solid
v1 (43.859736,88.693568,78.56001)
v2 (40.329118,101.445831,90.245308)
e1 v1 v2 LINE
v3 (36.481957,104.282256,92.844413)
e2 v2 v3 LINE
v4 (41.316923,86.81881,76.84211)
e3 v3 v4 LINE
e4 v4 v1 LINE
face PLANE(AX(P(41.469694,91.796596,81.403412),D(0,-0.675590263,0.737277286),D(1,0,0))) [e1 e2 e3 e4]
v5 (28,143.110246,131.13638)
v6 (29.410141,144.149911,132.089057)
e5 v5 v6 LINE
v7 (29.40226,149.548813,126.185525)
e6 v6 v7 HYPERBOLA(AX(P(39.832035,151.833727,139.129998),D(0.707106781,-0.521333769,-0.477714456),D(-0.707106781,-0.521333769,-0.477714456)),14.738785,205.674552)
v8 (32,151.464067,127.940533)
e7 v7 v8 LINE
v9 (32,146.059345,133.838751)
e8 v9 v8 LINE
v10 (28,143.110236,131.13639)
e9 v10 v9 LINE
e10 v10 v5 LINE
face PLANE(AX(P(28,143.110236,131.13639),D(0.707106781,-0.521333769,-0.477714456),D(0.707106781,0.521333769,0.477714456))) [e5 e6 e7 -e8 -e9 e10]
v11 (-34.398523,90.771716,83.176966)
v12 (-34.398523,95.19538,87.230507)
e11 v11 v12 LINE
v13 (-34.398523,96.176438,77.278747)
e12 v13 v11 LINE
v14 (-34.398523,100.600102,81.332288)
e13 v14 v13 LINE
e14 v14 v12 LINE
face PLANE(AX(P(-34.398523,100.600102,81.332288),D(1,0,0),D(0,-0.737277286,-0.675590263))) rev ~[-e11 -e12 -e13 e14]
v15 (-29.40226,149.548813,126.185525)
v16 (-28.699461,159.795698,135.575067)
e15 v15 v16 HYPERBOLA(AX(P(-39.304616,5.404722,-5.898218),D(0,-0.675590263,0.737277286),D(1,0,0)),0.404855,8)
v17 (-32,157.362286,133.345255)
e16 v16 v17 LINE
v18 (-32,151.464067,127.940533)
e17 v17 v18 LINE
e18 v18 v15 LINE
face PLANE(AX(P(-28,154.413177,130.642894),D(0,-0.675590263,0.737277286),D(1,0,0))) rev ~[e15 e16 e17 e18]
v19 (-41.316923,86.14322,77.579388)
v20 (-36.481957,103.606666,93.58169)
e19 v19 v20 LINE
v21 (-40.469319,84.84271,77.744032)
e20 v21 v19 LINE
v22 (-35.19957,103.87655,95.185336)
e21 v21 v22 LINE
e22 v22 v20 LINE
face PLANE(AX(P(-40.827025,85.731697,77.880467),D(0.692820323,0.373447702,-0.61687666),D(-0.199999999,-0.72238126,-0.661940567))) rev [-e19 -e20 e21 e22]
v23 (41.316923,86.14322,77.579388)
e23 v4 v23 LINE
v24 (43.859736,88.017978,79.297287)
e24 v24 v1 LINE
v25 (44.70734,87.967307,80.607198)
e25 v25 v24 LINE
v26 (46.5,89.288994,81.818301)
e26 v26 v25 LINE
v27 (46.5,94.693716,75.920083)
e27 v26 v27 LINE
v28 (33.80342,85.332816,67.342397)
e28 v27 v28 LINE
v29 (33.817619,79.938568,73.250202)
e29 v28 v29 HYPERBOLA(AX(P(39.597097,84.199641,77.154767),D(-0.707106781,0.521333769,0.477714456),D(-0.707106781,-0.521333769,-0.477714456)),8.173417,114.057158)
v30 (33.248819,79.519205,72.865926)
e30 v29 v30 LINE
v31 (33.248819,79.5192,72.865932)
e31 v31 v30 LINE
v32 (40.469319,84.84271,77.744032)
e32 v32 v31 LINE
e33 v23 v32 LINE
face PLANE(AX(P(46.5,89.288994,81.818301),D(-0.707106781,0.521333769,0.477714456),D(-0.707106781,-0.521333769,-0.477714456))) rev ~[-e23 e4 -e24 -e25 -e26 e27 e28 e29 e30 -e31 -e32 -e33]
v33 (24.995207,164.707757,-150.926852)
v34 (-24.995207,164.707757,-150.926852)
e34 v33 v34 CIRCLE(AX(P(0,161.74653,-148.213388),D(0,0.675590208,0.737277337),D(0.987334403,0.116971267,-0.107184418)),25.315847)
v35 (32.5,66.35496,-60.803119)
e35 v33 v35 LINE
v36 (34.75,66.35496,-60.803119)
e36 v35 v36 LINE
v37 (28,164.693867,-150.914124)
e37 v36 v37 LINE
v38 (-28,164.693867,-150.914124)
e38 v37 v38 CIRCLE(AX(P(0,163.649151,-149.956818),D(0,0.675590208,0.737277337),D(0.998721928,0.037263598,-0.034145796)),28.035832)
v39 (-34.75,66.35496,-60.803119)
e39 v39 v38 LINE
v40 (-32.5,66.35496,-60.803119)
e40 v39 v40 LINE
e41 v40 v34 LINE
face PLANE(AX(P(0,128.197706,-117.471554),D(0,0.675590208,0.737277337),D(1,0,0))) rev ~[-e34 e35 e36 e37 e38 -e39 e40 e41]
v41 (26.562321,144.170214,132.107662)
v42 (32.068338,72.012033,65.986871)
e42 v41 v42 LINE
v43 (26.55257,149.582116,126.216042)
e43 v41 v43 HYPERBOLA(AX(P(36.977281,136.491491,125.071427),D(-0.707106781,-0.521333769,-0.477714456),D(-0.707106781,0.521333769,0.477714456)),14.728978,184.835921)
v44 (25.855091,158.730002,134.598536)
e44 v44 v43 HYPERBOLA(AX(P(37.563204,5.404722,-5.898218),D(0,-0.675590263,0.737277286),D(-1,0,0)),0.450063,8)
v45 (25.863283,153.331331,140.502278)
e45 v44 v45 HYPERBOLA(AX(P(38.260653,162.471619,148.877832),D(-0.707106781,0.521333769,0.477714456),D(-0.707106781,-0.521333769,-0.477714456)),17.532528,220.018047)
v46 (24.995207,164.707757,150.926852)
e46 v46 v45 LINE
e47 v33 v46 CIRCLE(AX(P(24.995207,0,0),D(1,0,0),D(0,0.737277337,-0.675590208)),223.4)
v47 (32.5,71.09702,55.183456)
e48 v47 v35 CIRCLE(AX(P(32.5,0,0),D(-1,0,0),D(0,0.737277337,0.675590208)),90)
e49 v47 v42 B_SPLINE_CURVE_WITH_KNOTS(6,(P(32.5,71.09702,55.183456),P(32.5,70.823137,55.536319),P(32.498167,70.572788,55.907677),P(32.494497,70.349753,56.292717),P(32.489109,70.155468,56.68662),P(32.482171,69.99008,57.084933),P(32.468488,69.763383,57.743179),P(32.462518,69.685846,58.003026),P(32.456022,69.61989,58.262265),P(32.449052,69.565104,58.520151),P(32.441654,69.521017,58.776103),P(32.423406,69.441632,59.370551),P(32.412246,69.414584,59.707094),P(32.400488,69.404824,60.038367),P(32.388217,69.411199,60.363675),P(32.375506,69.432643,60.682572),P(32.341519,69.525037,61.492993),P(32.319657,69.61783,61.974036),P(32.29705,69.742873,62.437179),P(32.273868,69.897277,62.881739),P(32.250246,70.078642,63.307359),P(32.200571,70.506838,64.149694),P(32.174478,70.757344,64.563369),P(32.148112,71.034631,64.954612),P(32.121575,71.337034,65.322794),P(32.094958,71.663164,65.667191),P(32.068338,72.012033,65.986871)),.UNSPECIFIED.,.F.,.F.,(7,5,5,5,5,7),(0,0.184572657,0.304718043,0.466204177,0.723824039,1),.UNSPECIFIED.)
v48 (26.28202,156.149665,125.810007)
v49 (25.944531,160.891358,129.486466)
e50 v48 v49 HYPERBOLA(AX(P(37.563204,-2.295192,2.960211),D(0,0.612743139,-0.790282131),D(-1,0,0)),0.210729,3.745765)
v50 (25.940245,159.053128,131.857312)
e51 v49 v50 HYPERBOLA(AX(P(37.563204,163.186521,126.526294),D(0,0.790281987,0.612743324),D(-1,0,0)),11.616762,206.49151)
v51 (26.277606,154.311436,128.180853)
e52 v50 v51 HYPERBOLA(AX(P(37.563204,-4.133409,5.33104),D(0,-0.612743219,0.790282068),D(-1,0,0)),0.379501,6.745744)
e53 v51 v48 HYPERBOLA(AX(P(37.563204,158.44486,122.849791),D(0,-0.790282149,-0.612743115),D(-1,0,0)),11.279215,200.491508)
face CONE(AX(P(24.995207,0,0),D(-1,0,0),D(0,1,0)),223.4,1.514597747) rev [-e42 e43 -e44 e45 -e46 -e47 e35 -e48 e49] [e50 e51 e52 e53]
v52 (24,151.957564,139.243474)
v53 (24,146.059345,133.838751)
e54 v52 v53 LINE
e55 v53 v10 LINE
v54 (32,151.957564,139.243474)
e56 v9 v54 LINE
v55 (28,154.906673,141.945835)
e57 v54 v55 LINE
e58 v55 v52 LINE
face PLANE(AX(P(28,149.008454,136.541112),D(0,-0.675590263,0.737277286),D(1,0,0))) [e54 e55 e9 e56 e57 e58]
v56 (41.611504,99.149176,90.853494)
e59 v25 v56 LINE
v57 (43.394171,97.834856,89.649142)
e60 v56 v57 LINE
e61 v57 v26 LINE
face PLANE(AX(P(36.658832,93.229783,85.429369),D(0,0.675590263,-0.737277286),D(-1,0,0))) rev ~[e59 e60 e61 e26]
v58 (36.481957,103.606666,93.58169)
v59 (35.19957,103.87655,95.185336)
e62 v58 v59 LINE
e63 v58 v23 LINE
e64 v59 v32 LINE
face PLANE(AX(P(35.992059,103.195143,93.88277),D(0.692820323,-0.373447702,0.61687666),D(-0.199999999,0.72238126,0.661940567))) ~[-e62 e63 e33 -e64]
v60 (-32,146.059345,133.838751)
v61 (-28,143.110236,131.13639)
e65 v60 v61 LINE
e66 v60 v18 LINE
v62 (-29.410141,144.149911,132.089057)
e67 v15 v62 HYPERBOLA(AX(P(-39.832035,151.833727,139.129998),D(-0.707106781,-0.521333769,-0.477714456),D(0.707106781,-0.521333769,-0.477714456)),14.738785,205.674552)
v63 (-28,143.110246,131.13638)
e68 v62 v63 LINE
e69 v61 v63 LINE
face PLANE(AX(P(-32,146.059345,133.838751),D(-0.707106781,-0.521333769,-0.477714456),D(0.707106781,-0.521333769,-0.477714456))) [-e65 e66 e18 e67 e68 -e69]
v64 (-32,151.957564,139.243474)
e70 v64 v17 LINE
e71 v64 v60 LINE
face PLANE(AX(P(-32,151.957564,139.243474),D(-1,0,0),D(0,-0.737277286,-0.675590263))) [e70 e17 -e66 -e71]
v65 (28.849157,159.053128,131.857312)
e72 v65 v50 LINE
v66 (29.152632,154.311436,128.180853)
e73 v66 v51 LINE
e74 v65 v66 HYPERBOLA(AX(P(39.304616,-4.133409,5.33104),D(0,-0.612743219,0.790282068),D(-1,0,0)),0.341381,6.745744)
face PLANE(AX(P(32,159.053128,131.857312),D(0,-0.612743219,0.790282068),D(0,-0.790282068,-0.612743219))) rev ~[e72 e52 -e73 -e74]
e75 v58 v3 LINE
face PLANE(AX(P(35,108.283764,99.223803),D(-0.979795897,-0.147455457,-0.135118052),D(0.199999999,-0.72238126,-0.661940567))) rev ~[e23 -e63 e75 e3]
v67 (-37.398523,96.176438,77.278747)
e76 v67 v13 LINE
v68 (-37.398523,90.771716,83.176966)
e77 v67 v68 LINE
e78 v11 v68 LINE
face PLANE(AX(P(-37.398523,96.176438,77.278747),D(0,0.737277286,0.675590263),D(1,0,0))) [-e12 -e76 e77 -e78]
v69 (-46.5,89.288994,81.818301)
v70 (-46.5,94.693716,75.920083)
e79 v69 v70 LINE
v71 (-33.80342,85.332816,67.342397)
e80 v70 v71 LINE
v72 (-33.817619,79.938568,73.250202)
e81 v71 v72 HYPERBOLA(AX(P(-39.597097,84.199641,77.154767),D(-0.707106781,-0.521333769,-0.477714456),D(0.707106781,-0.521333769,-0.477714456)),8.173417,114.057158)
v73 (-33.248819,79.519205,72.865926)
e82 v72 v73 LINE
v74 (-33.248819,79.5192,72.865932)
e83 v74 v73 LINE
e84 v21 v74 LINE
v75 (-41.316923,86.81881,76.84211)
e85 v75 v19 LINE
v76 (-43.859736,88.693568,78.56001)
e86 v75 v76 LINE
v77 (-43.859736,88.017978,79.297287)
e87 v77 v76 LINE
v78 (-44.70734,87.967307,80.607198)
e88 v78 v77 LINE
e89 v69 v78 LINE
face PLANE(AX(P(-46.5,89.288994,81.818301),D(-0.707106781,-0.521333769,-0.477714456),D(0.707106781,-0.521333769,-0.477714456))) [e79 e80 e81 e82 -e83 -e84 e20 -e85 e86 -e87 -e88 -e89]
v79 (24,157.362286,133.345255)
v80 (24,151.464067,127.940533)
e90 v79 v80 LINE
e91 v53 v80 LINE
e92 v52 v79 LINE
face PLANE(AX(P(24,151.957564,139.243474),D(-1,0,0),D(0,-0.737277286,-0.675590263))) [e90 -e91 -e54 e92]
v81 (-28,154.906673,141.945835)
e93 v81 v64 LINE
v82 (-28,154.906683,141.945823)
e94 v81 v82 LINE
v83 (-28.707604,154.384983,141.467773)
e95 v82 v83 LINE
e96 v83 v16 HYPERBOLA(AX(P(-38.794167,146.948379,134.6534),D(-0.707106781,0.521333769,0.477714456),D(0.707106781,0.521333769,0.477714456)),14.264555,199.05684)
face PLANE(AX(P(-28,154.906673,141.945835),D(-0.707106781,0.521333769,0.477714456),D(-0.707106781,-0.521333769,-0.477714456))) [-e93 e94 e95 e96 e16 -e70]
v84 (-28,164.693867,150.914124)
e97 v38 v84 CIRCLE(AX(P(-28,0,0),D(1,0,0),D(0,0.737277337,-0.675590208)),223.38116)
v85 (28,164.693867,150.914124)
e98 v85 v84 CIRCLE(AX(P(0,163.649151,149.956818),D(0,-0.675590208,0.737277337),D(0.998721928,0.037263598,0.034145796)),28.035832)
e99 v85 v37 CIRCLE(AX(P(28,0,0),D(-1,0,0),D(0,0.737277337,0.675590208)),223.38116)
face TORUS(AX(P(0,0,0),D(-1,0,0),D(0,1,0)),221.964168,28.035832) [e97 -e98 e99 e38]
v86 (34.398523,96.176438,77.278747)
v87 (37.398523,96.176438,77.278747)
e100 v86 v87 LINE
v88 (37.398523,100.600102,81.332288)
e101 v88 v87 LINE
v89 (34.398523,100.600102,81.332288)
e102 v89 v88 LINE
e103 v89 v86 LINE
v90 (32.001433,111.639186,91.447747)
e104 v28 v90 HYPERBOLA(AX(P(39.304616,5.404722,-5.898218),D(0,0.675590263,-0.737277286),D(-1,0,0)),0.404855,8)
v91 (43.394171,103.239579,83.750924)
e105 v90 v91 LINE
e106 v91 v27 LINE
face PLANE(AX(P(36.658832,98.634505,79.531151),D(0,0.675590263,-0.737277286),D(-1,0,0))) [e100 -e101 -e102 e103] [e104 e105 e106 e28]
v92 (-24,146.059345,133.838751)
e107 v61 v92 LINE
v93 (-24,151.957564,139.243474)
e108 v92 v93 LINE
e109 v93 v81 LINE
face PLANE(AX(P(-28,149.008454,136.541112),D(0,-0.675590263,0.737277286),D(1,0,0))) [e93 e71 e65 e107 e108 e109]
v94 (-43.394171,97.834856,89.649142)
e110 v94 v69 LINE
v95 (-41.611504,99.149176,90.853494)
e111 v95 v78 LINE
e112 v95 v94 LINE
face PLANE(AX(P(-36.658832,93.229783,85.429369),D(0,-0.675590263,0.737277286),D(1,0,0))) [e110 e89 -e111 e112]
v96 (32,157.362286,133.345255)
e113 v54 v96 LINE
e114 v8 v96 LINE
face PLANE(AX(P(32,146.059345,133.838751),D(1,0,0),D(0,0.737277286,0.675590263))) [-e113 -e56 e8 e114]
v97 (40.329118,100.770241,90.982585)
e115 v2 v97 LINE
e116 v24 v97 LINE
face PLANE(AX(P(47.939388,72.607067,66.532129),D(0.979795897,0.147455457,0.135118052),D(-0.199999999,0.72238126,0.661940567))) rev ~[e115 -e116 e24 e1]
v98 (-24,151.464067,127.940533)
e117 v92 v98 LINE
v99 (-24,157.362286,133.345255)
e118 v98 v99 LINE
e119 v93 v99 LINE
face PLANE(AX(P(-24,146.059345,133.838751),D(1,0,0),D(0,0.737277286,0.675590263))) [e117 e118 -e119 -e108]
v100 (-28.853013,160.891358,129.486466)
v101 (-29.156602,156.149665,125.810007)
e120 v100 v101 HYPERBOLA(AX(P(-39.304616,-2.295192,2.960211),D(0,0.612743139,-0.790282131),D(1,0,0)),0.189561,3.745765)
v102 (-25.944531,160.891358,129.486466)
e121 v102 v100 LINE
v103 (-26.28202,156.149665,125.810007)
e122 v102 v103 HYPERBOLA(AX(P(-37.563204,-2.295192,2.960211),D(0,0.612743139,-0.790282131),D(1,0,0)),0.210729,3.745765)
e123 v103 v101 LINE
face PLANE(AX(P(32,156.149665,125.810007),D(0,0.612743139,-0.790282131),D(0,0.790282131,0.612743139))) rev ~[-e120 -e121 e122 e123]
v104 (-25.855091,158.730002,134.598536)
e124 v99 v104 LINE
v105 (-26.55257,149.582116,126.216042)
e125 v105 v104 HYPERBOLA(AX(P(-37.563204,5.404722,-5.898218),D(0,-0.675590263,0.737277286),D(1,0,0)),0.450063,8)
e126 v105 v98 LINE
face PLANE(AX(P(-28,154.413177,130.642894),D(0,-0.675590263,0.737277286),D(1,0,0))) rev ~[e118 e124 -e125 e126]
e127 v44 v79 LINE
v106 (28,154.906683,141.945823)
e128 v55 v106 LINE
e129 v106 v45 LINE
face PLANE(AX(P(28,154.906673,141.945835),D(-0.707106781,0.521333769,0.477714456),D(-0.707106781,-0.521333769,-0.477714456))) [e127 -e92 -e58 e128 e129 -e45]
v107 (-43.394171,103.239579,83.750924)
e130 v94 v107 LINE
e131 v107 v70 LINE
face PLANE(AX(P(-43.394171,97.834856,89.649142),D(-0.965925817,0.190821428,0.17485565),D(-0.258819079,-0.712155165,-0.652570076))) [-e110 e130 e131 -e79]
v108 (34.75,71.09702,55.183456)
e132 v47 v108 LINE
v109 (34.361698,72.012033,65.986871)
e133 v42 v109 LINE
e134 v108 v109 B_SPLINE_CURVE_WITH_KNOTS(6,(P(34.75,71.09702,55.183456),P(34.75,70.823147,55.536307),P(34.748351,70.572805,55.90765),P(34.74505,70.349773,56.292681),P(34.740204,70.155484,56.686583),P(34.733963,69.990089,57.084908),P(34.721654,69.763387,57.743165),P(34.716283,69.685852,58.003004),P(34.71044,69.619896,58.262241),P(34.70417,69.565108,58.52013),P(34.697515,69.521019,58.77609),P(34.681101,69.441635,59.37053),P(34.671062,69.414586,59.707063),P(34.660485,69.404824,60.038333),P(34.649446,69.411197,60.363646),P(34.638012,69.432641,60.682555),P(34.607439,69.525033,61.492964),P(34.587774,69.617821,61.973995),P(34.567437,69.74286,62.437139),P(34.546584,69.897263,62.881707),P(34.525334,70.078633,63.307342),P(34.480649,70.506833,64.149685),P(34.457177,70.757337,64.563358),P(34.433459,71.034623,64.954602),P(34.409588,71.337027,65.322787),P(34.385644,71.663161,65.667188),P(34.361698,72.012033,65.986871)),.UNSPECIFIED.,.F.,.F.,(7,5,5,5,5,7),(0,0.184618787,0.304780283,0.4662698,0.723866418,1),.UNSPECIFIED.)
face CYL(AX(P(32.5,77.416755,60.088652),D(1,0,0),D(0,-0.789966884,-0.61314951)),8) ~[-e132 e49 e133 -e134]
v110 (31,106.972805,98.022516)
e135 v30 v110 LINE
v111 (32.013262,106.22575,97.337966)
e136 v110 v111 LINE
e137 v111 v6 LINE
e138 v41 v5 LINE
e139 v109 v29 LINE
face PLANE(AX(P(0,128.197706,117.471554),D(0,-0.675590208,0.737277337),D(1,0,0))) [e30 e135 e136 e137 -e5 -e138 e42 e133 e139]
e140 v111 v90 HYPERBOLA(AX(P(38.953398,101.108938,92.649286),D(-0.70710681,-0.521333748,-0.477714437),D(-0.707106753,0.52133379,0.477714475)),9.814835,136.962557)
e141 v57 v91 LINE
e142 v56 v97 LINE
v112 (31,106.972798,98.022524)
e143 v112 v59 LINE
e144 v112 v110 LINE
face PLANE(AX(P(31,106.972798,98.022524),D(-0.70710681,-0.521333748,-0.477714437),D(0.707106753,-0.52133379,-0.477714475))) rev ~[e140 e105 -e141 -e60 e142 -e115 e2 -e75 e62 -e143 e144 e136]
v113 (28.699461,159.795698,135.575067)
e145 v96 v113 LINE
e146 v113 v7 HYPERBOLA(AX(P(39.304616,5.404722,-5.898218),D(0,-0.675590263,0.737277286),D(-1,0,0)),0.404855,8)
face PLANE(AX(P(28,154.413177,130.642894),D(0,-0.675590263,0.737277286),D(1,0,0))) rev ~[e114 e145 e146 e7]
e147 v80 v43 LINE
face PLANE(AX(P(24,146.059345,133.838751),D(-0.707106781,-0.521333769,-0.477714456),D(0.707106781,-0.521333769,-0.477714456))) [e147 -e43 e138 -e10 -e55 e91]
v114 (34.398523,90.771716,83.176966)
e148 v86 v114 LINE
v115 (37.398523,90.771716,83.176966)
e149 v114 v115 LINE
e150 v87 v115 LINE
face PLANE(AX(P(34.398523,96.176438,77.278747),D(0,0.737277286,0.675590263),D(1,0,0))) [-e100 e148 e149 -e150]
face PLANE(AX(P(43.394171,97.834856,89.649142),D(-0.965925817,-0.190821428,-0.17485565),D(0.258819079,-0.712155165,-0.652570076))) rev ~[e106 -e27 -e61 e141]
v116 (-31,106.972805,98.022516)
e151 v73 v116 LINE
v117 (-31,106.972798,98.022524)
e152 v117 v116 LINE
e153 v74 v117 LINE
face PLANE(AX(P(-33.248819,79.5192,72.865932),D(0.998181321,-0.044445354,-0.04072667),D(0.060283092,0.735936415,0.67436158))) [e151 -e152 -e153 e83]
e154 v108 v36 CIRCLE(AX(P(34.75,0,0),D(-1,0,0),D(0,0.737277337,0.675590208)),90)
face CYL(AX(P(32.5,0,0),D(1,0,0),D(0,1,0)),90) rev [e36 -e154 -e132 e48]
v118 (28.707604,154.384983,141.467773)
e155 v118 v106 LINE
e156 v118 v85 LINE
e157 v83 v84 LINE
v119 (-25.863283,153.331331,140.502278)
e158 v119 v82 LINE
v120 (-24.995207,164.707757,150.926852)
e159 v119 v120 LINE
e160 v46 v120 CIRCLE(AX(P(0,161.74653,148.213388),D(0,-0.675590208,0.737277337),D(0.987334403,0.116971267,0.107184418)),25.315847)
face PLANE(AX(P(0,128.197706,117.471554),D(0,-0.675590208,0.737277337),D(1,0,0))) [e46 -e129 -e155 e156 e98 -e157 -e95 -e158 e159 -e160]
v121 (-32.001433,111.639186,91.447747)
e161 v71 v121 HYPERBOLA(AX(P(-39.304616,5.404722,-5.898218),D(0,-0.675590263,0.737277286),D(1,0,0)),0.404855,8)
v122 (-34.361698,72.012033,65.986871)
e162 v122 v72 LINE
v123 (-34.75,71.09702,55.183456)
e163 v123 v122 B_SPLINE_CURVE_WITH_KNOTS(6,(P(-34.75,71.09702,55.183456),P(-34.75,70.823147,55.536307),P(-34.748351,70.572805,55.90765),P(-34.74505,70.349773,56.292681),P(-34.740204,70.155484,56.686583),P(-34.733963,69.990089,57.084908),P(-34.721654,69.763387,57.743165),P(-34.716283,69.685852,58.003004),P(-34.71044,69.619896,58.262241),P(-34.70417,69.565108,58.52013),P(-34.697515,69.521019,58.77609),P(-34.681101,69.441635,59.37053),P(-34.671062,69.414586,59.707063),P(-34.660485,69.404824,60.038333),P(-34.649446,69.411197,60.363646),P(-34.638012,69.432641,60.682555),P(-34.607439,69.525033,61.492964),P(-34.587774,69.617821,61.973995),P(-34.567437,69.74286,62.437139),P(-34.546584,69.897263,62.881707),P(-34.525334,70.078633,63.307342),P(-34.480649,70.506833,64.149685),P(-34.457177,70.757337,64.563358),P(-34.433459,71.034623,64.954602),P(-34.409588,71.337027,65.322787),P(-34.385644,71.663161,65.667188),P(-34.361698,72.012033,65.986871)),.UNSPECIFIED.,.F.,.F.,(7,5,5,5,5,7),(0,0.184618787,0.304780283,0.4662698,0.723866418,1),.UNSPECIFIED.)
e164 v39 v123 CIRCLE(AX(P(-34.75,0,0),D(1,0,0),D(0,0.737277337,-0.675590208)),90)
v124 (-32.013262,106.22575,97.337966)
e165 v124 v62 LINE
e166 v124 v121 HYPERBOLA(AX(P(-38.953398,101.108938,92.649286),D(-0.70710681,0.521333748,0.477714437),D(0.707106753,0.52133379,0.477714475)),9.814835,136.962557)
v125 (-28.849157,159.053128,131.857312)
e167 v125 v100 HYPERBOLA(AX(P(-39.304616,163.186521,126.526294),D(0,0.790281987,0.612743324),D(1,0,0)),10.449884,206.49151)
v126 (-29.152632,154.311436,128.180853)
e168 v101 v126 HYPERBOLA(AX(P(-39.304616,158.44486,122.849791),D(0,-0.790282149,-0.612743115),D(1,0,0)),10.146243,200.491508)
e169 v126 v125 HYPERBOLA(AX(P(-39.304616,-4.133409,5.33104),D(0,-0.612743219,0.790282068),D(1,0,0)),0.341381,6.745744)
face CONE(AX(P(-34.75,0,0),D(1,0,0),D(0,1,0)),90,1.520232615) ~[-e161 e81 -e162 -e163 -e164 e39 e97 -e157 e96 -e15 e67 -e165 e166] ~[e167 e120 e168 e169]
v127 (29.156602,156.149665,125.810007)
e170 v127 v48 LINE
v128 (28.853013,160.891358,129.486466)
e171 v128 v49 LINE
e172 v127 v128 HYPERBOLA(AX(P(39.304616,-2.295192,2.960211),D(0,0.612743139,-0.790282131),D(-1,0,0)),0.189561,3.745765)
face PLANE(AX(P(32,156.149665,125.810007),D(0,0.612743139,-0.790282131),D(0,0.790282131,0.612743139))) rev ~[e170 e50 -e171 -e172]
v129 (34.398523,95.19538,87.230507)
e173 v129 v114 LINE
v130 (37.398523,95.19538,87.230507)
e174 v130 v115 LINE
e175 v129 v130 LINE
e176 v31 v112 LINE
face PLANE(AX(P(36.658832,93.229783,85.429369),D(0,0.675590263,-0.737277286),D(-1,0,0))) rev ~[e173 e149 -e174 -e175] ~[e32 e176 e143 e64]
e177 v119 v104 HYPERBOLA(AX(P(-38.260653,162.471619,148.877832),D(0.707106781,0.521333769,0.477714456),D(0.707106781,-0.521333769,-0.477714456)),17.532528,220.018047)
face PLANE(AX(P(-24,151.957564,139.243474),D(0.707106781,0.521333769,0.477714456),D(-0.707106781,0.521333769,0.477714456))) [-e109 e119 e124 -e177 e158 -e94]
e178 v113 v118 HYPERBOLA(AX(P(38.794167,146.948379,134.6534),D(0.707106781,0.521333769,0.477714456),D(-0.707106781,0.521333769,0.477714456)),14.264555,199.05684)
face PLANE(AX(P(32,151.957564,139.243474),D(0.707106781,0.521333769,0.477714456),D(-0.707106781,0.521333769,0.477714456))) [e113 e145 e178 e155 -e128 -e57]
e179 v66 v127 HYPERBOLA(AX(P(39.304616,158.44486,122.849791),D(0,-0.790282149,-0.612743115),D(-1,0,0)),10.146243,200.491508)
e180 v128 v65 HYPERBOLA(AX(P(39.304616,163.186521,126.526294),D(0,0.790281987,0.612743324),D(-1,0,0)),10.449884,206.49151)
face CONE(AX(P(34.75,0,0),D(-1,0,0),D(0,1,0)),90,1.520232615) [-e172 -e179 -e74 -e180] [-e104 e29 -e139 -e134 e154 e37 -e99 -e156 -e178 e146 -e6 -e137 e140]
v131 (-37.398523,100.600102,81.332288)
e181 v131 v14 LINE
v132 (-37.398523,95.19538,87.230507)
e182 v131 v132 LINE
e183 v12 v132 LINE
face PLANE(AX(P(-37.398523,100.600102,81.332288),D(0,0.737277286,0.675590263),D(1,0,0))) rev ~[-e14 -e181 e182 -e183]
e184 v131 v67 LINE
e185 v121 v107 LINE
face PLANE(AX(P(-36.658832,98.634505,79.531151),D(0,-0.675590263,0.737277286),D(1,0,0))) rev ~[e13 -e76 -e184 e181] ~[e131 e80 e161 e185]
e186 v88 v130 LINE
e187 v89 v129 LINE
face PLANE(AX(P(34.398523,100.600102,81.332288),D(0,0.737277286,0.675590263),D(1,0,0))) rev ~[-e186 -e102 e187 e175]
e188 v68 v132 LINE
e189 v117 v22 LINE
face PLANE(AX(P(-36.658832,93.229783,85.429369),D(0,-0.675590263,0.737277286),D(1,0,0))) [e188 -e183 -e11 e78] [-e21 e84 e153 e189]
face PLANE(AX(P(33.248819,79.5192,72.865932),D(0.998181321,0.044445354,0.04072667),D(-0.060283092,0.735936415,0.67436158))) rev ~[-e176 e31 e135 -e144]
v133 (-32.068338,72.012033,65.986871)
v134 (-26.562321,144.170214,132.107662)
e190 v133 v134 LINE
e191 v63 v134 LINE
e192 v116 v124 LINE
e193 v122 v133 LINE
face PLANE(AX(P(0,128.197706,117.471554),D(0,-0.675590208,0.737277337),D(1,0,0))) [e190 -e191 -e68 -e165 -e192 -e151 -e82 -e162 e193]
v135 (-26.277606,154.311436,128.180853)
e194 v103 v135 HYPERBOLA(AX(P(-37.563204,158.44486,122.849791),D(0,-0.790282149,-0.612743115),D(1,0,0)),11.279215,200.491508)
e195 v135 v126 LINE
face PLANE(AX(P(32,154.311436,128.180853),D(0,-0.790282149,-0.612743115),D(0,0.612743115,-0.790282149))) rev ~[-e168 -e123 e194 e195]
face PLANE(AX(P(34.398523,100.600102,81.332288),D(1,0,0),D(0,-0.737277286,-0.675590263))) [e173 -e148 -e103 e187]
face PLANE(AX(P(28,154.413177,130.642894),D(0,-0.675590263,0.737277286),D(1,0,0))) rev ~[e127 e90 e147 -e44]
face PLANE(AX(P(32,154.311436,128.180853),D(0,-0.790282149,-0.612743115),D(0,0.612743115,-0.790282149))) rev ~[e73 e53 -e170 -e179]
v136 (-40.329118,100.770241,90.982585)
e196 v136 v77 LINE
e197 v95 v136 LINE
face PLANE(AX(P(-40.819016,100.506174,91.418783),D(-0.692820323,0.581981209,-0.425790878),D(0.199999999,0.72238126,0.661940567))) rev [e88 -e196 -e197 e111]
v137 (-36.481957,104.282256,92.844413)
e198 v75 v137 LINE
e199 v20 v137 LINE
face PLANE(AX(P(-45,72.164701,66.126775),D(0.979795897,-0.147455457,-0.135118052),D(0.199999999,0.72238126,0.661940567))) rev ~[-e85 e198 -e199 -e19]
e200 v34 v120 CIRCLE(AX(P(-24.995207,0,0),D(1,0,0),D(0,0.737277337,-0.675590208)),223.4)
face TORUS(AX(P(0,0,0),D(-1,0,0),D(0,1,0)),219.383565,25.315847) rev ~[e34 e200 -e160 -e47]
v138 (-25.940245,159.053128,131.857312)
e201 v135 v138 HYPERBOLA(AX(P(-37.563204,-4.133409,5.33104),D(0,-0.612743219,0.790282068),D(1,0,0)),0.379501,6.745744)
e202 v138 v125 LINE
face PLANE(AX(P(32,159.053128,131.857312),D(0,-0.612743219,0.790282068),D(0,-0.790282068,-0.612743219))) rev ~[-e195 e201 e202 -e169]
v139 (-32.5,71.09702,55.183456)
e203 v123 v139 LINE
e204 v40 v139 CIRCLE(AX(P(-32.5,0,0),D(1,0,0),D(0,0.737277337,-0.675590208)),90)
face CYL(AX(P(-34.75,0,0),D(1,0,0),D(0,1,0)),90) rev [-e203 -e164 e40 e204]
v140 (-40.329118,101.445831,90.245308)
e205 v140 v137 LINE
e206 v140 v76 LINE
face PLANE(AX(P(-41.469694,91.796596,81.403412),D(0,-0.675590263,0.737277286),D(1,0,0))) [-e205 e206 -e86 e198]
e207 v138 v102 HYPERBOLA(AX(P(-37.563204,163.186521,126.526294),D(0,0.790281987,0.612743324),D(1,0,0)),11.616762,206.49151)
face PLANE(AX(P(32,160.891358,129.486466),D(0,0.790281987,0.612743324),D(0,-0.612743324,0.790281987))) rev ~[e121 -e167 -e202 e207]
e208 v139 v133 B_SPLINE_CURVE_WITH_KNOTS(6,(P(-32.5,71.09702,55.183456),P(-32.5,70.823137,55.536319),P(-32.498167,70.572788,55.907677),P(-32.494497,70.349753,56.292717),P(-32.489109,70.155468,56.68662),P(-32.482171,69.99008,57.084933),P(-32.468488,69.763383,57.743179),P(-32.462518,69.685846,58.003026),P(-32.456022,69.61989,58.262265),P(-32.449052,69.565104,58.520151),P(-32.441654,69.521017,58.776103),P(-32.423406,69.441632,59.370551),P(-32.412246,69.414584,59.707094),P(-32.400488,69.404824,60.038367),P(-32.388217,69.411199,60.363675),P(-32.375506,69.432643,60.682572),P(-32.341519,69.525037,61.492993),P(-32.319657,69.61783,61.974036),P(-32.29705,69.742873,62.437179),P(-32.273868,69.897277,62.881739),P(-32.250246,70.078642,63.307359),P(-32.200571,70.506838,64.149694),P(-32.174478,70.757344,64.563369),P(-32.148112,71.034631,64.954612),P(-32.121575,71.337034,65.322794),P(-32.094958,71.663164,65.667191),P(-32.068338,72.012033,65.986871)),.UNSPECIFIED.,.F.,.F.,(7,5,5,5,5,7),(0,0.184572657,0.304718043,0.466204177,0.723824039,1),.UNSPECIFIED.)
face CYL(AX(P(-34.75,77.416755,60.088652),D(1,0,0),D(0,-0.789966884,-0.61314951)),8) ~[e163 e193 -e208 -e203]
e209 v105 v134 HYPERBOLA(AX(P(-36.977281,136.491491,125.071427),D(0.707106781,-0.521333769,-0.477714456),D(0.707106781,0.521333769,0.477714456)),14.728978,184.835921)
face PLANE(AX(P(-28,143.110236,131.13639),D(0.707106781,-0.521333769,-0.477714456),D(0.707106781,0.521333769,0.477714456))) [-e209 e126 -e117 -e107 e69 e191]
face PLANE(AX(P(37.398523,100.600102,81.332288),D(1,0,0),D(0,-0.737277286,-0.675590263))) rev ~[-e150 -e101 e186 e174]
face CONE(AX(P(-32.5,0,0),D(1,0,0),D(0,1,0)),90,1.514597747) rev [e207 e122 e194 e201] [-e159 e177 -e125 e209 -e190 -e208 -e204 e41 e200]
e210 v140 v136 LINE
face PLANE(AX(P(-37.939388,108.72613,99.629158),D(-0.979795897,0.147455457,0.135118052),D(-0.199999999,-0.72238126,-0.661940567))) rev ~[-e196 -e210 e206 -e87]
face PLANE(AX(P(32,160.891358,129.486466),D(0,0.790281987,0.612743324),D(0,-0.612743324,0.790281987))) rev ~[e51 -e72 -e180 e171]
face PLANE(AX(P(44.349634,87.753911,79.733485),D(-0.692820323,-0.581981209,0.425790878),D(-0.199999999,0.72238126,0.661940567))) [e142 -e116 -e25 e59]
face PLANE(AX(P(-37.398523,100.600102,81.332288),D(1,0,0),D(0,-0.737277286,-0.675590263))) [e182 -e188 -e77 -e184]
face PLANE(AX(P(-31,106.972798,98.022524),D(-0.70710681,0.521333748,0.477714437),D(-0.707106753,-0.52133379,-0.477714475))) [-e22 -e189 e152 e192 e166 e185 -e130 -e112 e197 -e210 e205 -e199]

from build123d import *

# Parameters (mm, degrees)
REVOLUTION_ANGLE = 85
FILLET_R         = 8
PAD_DEPTH        = 8
POCKET_DEPTH     = 2
CHAMFER_SIZE     = 1
SKETCH005_W      = 3
SKETCH005_H      = 7
POCKET001_DEPTH  = 87.696576
POCKET002_DEPTH  = 78.501
SKETCH007_W      = 3
SKETCH007_H      = 6
POCKET003_DEPTH  = 87.696576


with BuildPart() as part:
    # Sketch → Revolution (revolve, symmetric)
    with BuildSketch(Plane.XY) as revolution_sk:
        with BuildLine():
            ThreePointArc((28, 223.38116), (0, 250), (-28, 223.38116))
            Line((-34.75, 90), (-28, 223.38116))
            Line((-34.75, 90), (-32.5, 90))
            Line((-32.5, 90), (-24.995207, 223.4))
            ThreePointArc((24.995207, 223.4), (0, 244.699412), (-24.995207, 223.4))
            Line((24.995207, 223.4), (32.5, 90))
            Line((32.5, 90), (34.75, 90))
            Line((34.75, 90), (28, 223.38116))
        make_face()
    revolve(axis=Axis((0, 0, 0), (1, 0, 0)), revolution_arc=REVOLUTION_ANGLE / 2)
    revolve(revolution_sk.sketch, axis=Axis((0, 0, 0), (-1, 0, 0)), revolution_arc=REVOLUTION_ANGLE / 2)

    # Fillet
    fillet_edges = [part.edges().sort_by_distance(p)[0] for p in [
        (33.625, 66.35496, 60.803119),
        (-33.625, 66.35496, 60.803119),
    ]]
    fillet(fillet_edges, radius=FILLET_R)

    # Sketch002 (on Face5 of Fillet) → Pad (new body)
    with BuildSketch(Plane(origin=(0, 0, 0), x_dir=(1, 0, 0), z_dir=(0, -0.67559, 0.737277))):
        Polygon((-43.394171, 132.697505), (-46.5, 121.106395), (-33.248819, 107.855214), (-31, 145.091677), align=None)
        Polygon((43.394171, 132.697505), (46.5, 121.106395), (33.248819, 107.855214), (31, 145.091677), align=None)
        Polygon((28, 194.106395), (32, 198.106395), (32, 206.106395), (28, 210.106395), (24, 206.106395), (24, 198.106395), align=None)
        Polygon((-28, 194.106395), (-24, 198.106395), (-24, 206.106395), (-28, 210.106395), (-32, 206.106395), (-32, 198.106395), align=None)
    extrude(amount=-PAD_DEPTH)

    # Sketch003 (on Face47 of Pad) → Pocket (cut)
    with BuildSketch(Plane(origin=(0, 0, 0), x_dir=(1, 0, 0), z_dir=(0, -0.67559, 0.737277))):
        Polygon((35, 146.869795), (45, 97.88), (47.939388, 98.48), (37.939388, 147.469795), align=None)
        Polygon((-47.939388, 98.48), (-45, 97.88), (-35, 146.869795), (-37.939388, 147.469795), align=None)
    extrude(amount=-POCKET_DEPTH, mode=Mode.SUBTRACT)

    # Chamfer
    chamfer_edges = [part.edges().sort_by_distance(p)[0] for p in [
        (42.094426, 93.718526, 85.877207),
        (38.89944, 94.199359, 86.317809),
        (-38.89944, 94.199359, 86.317809),
        (-42.094426, 93.718526, 85.877207),
    ]]
    chamfer(chamfer_edges, length=CHAMFER_SIZE)

    # Sketch005 (on Face6 of Chamfer) → Pocket001 (cut, through all)
    with BuildSketch(Plane(origin=(0, 5.404722, -5.898219), x_dir=(1, 0, 0), z_dir=(0, 0.67559, -0.737277))):
        with Locations((-36.047712, 125.078524)):
            Rectangle(SKETCH005_W, SKETCH005_H)
        with Locations((36.047712, 125.078524)):
            Rectangle(SKETCH005_W, SKETCH005_H)
    extrude(amount=-POCKET001_DEPTH, mode=Mode.SUBTRACT)

    # Sketch006 → Pocket002 (cut, through all)
    with BuildSketch(Plane.YZ.offset(32)):
        Polygon((154.311436, 128.180853), (156.149665, 125.810007), (160.891358, 129.486466), (159.053128, 131.857312), align=None)
    extrude(amount=-POCKET002_DEPTH, mode=Mode.SUBTRACT)

    # Sketch007 (on Face6 of Pocket002) → Pocket003 (cut, through all)
    with BuildSketch(Plane(origin=(0, 5.404722, -5.898219), x_dir=(1, 0, 0), z_dir=(0, 0.67559, -0.737277))):
        with Locations((-35.898523, -126.117473)):
            Rectangle(SKETCH007_W, SKETCH007_H)
        with Locations((35.898523, -126.117473)):
            Rectangle(SKETCH007_W, SKETCH007_H)
    extrude(amount=-POCKET003_DEPTH, mode=Mode.SUBTRACT)


solid = part.part
